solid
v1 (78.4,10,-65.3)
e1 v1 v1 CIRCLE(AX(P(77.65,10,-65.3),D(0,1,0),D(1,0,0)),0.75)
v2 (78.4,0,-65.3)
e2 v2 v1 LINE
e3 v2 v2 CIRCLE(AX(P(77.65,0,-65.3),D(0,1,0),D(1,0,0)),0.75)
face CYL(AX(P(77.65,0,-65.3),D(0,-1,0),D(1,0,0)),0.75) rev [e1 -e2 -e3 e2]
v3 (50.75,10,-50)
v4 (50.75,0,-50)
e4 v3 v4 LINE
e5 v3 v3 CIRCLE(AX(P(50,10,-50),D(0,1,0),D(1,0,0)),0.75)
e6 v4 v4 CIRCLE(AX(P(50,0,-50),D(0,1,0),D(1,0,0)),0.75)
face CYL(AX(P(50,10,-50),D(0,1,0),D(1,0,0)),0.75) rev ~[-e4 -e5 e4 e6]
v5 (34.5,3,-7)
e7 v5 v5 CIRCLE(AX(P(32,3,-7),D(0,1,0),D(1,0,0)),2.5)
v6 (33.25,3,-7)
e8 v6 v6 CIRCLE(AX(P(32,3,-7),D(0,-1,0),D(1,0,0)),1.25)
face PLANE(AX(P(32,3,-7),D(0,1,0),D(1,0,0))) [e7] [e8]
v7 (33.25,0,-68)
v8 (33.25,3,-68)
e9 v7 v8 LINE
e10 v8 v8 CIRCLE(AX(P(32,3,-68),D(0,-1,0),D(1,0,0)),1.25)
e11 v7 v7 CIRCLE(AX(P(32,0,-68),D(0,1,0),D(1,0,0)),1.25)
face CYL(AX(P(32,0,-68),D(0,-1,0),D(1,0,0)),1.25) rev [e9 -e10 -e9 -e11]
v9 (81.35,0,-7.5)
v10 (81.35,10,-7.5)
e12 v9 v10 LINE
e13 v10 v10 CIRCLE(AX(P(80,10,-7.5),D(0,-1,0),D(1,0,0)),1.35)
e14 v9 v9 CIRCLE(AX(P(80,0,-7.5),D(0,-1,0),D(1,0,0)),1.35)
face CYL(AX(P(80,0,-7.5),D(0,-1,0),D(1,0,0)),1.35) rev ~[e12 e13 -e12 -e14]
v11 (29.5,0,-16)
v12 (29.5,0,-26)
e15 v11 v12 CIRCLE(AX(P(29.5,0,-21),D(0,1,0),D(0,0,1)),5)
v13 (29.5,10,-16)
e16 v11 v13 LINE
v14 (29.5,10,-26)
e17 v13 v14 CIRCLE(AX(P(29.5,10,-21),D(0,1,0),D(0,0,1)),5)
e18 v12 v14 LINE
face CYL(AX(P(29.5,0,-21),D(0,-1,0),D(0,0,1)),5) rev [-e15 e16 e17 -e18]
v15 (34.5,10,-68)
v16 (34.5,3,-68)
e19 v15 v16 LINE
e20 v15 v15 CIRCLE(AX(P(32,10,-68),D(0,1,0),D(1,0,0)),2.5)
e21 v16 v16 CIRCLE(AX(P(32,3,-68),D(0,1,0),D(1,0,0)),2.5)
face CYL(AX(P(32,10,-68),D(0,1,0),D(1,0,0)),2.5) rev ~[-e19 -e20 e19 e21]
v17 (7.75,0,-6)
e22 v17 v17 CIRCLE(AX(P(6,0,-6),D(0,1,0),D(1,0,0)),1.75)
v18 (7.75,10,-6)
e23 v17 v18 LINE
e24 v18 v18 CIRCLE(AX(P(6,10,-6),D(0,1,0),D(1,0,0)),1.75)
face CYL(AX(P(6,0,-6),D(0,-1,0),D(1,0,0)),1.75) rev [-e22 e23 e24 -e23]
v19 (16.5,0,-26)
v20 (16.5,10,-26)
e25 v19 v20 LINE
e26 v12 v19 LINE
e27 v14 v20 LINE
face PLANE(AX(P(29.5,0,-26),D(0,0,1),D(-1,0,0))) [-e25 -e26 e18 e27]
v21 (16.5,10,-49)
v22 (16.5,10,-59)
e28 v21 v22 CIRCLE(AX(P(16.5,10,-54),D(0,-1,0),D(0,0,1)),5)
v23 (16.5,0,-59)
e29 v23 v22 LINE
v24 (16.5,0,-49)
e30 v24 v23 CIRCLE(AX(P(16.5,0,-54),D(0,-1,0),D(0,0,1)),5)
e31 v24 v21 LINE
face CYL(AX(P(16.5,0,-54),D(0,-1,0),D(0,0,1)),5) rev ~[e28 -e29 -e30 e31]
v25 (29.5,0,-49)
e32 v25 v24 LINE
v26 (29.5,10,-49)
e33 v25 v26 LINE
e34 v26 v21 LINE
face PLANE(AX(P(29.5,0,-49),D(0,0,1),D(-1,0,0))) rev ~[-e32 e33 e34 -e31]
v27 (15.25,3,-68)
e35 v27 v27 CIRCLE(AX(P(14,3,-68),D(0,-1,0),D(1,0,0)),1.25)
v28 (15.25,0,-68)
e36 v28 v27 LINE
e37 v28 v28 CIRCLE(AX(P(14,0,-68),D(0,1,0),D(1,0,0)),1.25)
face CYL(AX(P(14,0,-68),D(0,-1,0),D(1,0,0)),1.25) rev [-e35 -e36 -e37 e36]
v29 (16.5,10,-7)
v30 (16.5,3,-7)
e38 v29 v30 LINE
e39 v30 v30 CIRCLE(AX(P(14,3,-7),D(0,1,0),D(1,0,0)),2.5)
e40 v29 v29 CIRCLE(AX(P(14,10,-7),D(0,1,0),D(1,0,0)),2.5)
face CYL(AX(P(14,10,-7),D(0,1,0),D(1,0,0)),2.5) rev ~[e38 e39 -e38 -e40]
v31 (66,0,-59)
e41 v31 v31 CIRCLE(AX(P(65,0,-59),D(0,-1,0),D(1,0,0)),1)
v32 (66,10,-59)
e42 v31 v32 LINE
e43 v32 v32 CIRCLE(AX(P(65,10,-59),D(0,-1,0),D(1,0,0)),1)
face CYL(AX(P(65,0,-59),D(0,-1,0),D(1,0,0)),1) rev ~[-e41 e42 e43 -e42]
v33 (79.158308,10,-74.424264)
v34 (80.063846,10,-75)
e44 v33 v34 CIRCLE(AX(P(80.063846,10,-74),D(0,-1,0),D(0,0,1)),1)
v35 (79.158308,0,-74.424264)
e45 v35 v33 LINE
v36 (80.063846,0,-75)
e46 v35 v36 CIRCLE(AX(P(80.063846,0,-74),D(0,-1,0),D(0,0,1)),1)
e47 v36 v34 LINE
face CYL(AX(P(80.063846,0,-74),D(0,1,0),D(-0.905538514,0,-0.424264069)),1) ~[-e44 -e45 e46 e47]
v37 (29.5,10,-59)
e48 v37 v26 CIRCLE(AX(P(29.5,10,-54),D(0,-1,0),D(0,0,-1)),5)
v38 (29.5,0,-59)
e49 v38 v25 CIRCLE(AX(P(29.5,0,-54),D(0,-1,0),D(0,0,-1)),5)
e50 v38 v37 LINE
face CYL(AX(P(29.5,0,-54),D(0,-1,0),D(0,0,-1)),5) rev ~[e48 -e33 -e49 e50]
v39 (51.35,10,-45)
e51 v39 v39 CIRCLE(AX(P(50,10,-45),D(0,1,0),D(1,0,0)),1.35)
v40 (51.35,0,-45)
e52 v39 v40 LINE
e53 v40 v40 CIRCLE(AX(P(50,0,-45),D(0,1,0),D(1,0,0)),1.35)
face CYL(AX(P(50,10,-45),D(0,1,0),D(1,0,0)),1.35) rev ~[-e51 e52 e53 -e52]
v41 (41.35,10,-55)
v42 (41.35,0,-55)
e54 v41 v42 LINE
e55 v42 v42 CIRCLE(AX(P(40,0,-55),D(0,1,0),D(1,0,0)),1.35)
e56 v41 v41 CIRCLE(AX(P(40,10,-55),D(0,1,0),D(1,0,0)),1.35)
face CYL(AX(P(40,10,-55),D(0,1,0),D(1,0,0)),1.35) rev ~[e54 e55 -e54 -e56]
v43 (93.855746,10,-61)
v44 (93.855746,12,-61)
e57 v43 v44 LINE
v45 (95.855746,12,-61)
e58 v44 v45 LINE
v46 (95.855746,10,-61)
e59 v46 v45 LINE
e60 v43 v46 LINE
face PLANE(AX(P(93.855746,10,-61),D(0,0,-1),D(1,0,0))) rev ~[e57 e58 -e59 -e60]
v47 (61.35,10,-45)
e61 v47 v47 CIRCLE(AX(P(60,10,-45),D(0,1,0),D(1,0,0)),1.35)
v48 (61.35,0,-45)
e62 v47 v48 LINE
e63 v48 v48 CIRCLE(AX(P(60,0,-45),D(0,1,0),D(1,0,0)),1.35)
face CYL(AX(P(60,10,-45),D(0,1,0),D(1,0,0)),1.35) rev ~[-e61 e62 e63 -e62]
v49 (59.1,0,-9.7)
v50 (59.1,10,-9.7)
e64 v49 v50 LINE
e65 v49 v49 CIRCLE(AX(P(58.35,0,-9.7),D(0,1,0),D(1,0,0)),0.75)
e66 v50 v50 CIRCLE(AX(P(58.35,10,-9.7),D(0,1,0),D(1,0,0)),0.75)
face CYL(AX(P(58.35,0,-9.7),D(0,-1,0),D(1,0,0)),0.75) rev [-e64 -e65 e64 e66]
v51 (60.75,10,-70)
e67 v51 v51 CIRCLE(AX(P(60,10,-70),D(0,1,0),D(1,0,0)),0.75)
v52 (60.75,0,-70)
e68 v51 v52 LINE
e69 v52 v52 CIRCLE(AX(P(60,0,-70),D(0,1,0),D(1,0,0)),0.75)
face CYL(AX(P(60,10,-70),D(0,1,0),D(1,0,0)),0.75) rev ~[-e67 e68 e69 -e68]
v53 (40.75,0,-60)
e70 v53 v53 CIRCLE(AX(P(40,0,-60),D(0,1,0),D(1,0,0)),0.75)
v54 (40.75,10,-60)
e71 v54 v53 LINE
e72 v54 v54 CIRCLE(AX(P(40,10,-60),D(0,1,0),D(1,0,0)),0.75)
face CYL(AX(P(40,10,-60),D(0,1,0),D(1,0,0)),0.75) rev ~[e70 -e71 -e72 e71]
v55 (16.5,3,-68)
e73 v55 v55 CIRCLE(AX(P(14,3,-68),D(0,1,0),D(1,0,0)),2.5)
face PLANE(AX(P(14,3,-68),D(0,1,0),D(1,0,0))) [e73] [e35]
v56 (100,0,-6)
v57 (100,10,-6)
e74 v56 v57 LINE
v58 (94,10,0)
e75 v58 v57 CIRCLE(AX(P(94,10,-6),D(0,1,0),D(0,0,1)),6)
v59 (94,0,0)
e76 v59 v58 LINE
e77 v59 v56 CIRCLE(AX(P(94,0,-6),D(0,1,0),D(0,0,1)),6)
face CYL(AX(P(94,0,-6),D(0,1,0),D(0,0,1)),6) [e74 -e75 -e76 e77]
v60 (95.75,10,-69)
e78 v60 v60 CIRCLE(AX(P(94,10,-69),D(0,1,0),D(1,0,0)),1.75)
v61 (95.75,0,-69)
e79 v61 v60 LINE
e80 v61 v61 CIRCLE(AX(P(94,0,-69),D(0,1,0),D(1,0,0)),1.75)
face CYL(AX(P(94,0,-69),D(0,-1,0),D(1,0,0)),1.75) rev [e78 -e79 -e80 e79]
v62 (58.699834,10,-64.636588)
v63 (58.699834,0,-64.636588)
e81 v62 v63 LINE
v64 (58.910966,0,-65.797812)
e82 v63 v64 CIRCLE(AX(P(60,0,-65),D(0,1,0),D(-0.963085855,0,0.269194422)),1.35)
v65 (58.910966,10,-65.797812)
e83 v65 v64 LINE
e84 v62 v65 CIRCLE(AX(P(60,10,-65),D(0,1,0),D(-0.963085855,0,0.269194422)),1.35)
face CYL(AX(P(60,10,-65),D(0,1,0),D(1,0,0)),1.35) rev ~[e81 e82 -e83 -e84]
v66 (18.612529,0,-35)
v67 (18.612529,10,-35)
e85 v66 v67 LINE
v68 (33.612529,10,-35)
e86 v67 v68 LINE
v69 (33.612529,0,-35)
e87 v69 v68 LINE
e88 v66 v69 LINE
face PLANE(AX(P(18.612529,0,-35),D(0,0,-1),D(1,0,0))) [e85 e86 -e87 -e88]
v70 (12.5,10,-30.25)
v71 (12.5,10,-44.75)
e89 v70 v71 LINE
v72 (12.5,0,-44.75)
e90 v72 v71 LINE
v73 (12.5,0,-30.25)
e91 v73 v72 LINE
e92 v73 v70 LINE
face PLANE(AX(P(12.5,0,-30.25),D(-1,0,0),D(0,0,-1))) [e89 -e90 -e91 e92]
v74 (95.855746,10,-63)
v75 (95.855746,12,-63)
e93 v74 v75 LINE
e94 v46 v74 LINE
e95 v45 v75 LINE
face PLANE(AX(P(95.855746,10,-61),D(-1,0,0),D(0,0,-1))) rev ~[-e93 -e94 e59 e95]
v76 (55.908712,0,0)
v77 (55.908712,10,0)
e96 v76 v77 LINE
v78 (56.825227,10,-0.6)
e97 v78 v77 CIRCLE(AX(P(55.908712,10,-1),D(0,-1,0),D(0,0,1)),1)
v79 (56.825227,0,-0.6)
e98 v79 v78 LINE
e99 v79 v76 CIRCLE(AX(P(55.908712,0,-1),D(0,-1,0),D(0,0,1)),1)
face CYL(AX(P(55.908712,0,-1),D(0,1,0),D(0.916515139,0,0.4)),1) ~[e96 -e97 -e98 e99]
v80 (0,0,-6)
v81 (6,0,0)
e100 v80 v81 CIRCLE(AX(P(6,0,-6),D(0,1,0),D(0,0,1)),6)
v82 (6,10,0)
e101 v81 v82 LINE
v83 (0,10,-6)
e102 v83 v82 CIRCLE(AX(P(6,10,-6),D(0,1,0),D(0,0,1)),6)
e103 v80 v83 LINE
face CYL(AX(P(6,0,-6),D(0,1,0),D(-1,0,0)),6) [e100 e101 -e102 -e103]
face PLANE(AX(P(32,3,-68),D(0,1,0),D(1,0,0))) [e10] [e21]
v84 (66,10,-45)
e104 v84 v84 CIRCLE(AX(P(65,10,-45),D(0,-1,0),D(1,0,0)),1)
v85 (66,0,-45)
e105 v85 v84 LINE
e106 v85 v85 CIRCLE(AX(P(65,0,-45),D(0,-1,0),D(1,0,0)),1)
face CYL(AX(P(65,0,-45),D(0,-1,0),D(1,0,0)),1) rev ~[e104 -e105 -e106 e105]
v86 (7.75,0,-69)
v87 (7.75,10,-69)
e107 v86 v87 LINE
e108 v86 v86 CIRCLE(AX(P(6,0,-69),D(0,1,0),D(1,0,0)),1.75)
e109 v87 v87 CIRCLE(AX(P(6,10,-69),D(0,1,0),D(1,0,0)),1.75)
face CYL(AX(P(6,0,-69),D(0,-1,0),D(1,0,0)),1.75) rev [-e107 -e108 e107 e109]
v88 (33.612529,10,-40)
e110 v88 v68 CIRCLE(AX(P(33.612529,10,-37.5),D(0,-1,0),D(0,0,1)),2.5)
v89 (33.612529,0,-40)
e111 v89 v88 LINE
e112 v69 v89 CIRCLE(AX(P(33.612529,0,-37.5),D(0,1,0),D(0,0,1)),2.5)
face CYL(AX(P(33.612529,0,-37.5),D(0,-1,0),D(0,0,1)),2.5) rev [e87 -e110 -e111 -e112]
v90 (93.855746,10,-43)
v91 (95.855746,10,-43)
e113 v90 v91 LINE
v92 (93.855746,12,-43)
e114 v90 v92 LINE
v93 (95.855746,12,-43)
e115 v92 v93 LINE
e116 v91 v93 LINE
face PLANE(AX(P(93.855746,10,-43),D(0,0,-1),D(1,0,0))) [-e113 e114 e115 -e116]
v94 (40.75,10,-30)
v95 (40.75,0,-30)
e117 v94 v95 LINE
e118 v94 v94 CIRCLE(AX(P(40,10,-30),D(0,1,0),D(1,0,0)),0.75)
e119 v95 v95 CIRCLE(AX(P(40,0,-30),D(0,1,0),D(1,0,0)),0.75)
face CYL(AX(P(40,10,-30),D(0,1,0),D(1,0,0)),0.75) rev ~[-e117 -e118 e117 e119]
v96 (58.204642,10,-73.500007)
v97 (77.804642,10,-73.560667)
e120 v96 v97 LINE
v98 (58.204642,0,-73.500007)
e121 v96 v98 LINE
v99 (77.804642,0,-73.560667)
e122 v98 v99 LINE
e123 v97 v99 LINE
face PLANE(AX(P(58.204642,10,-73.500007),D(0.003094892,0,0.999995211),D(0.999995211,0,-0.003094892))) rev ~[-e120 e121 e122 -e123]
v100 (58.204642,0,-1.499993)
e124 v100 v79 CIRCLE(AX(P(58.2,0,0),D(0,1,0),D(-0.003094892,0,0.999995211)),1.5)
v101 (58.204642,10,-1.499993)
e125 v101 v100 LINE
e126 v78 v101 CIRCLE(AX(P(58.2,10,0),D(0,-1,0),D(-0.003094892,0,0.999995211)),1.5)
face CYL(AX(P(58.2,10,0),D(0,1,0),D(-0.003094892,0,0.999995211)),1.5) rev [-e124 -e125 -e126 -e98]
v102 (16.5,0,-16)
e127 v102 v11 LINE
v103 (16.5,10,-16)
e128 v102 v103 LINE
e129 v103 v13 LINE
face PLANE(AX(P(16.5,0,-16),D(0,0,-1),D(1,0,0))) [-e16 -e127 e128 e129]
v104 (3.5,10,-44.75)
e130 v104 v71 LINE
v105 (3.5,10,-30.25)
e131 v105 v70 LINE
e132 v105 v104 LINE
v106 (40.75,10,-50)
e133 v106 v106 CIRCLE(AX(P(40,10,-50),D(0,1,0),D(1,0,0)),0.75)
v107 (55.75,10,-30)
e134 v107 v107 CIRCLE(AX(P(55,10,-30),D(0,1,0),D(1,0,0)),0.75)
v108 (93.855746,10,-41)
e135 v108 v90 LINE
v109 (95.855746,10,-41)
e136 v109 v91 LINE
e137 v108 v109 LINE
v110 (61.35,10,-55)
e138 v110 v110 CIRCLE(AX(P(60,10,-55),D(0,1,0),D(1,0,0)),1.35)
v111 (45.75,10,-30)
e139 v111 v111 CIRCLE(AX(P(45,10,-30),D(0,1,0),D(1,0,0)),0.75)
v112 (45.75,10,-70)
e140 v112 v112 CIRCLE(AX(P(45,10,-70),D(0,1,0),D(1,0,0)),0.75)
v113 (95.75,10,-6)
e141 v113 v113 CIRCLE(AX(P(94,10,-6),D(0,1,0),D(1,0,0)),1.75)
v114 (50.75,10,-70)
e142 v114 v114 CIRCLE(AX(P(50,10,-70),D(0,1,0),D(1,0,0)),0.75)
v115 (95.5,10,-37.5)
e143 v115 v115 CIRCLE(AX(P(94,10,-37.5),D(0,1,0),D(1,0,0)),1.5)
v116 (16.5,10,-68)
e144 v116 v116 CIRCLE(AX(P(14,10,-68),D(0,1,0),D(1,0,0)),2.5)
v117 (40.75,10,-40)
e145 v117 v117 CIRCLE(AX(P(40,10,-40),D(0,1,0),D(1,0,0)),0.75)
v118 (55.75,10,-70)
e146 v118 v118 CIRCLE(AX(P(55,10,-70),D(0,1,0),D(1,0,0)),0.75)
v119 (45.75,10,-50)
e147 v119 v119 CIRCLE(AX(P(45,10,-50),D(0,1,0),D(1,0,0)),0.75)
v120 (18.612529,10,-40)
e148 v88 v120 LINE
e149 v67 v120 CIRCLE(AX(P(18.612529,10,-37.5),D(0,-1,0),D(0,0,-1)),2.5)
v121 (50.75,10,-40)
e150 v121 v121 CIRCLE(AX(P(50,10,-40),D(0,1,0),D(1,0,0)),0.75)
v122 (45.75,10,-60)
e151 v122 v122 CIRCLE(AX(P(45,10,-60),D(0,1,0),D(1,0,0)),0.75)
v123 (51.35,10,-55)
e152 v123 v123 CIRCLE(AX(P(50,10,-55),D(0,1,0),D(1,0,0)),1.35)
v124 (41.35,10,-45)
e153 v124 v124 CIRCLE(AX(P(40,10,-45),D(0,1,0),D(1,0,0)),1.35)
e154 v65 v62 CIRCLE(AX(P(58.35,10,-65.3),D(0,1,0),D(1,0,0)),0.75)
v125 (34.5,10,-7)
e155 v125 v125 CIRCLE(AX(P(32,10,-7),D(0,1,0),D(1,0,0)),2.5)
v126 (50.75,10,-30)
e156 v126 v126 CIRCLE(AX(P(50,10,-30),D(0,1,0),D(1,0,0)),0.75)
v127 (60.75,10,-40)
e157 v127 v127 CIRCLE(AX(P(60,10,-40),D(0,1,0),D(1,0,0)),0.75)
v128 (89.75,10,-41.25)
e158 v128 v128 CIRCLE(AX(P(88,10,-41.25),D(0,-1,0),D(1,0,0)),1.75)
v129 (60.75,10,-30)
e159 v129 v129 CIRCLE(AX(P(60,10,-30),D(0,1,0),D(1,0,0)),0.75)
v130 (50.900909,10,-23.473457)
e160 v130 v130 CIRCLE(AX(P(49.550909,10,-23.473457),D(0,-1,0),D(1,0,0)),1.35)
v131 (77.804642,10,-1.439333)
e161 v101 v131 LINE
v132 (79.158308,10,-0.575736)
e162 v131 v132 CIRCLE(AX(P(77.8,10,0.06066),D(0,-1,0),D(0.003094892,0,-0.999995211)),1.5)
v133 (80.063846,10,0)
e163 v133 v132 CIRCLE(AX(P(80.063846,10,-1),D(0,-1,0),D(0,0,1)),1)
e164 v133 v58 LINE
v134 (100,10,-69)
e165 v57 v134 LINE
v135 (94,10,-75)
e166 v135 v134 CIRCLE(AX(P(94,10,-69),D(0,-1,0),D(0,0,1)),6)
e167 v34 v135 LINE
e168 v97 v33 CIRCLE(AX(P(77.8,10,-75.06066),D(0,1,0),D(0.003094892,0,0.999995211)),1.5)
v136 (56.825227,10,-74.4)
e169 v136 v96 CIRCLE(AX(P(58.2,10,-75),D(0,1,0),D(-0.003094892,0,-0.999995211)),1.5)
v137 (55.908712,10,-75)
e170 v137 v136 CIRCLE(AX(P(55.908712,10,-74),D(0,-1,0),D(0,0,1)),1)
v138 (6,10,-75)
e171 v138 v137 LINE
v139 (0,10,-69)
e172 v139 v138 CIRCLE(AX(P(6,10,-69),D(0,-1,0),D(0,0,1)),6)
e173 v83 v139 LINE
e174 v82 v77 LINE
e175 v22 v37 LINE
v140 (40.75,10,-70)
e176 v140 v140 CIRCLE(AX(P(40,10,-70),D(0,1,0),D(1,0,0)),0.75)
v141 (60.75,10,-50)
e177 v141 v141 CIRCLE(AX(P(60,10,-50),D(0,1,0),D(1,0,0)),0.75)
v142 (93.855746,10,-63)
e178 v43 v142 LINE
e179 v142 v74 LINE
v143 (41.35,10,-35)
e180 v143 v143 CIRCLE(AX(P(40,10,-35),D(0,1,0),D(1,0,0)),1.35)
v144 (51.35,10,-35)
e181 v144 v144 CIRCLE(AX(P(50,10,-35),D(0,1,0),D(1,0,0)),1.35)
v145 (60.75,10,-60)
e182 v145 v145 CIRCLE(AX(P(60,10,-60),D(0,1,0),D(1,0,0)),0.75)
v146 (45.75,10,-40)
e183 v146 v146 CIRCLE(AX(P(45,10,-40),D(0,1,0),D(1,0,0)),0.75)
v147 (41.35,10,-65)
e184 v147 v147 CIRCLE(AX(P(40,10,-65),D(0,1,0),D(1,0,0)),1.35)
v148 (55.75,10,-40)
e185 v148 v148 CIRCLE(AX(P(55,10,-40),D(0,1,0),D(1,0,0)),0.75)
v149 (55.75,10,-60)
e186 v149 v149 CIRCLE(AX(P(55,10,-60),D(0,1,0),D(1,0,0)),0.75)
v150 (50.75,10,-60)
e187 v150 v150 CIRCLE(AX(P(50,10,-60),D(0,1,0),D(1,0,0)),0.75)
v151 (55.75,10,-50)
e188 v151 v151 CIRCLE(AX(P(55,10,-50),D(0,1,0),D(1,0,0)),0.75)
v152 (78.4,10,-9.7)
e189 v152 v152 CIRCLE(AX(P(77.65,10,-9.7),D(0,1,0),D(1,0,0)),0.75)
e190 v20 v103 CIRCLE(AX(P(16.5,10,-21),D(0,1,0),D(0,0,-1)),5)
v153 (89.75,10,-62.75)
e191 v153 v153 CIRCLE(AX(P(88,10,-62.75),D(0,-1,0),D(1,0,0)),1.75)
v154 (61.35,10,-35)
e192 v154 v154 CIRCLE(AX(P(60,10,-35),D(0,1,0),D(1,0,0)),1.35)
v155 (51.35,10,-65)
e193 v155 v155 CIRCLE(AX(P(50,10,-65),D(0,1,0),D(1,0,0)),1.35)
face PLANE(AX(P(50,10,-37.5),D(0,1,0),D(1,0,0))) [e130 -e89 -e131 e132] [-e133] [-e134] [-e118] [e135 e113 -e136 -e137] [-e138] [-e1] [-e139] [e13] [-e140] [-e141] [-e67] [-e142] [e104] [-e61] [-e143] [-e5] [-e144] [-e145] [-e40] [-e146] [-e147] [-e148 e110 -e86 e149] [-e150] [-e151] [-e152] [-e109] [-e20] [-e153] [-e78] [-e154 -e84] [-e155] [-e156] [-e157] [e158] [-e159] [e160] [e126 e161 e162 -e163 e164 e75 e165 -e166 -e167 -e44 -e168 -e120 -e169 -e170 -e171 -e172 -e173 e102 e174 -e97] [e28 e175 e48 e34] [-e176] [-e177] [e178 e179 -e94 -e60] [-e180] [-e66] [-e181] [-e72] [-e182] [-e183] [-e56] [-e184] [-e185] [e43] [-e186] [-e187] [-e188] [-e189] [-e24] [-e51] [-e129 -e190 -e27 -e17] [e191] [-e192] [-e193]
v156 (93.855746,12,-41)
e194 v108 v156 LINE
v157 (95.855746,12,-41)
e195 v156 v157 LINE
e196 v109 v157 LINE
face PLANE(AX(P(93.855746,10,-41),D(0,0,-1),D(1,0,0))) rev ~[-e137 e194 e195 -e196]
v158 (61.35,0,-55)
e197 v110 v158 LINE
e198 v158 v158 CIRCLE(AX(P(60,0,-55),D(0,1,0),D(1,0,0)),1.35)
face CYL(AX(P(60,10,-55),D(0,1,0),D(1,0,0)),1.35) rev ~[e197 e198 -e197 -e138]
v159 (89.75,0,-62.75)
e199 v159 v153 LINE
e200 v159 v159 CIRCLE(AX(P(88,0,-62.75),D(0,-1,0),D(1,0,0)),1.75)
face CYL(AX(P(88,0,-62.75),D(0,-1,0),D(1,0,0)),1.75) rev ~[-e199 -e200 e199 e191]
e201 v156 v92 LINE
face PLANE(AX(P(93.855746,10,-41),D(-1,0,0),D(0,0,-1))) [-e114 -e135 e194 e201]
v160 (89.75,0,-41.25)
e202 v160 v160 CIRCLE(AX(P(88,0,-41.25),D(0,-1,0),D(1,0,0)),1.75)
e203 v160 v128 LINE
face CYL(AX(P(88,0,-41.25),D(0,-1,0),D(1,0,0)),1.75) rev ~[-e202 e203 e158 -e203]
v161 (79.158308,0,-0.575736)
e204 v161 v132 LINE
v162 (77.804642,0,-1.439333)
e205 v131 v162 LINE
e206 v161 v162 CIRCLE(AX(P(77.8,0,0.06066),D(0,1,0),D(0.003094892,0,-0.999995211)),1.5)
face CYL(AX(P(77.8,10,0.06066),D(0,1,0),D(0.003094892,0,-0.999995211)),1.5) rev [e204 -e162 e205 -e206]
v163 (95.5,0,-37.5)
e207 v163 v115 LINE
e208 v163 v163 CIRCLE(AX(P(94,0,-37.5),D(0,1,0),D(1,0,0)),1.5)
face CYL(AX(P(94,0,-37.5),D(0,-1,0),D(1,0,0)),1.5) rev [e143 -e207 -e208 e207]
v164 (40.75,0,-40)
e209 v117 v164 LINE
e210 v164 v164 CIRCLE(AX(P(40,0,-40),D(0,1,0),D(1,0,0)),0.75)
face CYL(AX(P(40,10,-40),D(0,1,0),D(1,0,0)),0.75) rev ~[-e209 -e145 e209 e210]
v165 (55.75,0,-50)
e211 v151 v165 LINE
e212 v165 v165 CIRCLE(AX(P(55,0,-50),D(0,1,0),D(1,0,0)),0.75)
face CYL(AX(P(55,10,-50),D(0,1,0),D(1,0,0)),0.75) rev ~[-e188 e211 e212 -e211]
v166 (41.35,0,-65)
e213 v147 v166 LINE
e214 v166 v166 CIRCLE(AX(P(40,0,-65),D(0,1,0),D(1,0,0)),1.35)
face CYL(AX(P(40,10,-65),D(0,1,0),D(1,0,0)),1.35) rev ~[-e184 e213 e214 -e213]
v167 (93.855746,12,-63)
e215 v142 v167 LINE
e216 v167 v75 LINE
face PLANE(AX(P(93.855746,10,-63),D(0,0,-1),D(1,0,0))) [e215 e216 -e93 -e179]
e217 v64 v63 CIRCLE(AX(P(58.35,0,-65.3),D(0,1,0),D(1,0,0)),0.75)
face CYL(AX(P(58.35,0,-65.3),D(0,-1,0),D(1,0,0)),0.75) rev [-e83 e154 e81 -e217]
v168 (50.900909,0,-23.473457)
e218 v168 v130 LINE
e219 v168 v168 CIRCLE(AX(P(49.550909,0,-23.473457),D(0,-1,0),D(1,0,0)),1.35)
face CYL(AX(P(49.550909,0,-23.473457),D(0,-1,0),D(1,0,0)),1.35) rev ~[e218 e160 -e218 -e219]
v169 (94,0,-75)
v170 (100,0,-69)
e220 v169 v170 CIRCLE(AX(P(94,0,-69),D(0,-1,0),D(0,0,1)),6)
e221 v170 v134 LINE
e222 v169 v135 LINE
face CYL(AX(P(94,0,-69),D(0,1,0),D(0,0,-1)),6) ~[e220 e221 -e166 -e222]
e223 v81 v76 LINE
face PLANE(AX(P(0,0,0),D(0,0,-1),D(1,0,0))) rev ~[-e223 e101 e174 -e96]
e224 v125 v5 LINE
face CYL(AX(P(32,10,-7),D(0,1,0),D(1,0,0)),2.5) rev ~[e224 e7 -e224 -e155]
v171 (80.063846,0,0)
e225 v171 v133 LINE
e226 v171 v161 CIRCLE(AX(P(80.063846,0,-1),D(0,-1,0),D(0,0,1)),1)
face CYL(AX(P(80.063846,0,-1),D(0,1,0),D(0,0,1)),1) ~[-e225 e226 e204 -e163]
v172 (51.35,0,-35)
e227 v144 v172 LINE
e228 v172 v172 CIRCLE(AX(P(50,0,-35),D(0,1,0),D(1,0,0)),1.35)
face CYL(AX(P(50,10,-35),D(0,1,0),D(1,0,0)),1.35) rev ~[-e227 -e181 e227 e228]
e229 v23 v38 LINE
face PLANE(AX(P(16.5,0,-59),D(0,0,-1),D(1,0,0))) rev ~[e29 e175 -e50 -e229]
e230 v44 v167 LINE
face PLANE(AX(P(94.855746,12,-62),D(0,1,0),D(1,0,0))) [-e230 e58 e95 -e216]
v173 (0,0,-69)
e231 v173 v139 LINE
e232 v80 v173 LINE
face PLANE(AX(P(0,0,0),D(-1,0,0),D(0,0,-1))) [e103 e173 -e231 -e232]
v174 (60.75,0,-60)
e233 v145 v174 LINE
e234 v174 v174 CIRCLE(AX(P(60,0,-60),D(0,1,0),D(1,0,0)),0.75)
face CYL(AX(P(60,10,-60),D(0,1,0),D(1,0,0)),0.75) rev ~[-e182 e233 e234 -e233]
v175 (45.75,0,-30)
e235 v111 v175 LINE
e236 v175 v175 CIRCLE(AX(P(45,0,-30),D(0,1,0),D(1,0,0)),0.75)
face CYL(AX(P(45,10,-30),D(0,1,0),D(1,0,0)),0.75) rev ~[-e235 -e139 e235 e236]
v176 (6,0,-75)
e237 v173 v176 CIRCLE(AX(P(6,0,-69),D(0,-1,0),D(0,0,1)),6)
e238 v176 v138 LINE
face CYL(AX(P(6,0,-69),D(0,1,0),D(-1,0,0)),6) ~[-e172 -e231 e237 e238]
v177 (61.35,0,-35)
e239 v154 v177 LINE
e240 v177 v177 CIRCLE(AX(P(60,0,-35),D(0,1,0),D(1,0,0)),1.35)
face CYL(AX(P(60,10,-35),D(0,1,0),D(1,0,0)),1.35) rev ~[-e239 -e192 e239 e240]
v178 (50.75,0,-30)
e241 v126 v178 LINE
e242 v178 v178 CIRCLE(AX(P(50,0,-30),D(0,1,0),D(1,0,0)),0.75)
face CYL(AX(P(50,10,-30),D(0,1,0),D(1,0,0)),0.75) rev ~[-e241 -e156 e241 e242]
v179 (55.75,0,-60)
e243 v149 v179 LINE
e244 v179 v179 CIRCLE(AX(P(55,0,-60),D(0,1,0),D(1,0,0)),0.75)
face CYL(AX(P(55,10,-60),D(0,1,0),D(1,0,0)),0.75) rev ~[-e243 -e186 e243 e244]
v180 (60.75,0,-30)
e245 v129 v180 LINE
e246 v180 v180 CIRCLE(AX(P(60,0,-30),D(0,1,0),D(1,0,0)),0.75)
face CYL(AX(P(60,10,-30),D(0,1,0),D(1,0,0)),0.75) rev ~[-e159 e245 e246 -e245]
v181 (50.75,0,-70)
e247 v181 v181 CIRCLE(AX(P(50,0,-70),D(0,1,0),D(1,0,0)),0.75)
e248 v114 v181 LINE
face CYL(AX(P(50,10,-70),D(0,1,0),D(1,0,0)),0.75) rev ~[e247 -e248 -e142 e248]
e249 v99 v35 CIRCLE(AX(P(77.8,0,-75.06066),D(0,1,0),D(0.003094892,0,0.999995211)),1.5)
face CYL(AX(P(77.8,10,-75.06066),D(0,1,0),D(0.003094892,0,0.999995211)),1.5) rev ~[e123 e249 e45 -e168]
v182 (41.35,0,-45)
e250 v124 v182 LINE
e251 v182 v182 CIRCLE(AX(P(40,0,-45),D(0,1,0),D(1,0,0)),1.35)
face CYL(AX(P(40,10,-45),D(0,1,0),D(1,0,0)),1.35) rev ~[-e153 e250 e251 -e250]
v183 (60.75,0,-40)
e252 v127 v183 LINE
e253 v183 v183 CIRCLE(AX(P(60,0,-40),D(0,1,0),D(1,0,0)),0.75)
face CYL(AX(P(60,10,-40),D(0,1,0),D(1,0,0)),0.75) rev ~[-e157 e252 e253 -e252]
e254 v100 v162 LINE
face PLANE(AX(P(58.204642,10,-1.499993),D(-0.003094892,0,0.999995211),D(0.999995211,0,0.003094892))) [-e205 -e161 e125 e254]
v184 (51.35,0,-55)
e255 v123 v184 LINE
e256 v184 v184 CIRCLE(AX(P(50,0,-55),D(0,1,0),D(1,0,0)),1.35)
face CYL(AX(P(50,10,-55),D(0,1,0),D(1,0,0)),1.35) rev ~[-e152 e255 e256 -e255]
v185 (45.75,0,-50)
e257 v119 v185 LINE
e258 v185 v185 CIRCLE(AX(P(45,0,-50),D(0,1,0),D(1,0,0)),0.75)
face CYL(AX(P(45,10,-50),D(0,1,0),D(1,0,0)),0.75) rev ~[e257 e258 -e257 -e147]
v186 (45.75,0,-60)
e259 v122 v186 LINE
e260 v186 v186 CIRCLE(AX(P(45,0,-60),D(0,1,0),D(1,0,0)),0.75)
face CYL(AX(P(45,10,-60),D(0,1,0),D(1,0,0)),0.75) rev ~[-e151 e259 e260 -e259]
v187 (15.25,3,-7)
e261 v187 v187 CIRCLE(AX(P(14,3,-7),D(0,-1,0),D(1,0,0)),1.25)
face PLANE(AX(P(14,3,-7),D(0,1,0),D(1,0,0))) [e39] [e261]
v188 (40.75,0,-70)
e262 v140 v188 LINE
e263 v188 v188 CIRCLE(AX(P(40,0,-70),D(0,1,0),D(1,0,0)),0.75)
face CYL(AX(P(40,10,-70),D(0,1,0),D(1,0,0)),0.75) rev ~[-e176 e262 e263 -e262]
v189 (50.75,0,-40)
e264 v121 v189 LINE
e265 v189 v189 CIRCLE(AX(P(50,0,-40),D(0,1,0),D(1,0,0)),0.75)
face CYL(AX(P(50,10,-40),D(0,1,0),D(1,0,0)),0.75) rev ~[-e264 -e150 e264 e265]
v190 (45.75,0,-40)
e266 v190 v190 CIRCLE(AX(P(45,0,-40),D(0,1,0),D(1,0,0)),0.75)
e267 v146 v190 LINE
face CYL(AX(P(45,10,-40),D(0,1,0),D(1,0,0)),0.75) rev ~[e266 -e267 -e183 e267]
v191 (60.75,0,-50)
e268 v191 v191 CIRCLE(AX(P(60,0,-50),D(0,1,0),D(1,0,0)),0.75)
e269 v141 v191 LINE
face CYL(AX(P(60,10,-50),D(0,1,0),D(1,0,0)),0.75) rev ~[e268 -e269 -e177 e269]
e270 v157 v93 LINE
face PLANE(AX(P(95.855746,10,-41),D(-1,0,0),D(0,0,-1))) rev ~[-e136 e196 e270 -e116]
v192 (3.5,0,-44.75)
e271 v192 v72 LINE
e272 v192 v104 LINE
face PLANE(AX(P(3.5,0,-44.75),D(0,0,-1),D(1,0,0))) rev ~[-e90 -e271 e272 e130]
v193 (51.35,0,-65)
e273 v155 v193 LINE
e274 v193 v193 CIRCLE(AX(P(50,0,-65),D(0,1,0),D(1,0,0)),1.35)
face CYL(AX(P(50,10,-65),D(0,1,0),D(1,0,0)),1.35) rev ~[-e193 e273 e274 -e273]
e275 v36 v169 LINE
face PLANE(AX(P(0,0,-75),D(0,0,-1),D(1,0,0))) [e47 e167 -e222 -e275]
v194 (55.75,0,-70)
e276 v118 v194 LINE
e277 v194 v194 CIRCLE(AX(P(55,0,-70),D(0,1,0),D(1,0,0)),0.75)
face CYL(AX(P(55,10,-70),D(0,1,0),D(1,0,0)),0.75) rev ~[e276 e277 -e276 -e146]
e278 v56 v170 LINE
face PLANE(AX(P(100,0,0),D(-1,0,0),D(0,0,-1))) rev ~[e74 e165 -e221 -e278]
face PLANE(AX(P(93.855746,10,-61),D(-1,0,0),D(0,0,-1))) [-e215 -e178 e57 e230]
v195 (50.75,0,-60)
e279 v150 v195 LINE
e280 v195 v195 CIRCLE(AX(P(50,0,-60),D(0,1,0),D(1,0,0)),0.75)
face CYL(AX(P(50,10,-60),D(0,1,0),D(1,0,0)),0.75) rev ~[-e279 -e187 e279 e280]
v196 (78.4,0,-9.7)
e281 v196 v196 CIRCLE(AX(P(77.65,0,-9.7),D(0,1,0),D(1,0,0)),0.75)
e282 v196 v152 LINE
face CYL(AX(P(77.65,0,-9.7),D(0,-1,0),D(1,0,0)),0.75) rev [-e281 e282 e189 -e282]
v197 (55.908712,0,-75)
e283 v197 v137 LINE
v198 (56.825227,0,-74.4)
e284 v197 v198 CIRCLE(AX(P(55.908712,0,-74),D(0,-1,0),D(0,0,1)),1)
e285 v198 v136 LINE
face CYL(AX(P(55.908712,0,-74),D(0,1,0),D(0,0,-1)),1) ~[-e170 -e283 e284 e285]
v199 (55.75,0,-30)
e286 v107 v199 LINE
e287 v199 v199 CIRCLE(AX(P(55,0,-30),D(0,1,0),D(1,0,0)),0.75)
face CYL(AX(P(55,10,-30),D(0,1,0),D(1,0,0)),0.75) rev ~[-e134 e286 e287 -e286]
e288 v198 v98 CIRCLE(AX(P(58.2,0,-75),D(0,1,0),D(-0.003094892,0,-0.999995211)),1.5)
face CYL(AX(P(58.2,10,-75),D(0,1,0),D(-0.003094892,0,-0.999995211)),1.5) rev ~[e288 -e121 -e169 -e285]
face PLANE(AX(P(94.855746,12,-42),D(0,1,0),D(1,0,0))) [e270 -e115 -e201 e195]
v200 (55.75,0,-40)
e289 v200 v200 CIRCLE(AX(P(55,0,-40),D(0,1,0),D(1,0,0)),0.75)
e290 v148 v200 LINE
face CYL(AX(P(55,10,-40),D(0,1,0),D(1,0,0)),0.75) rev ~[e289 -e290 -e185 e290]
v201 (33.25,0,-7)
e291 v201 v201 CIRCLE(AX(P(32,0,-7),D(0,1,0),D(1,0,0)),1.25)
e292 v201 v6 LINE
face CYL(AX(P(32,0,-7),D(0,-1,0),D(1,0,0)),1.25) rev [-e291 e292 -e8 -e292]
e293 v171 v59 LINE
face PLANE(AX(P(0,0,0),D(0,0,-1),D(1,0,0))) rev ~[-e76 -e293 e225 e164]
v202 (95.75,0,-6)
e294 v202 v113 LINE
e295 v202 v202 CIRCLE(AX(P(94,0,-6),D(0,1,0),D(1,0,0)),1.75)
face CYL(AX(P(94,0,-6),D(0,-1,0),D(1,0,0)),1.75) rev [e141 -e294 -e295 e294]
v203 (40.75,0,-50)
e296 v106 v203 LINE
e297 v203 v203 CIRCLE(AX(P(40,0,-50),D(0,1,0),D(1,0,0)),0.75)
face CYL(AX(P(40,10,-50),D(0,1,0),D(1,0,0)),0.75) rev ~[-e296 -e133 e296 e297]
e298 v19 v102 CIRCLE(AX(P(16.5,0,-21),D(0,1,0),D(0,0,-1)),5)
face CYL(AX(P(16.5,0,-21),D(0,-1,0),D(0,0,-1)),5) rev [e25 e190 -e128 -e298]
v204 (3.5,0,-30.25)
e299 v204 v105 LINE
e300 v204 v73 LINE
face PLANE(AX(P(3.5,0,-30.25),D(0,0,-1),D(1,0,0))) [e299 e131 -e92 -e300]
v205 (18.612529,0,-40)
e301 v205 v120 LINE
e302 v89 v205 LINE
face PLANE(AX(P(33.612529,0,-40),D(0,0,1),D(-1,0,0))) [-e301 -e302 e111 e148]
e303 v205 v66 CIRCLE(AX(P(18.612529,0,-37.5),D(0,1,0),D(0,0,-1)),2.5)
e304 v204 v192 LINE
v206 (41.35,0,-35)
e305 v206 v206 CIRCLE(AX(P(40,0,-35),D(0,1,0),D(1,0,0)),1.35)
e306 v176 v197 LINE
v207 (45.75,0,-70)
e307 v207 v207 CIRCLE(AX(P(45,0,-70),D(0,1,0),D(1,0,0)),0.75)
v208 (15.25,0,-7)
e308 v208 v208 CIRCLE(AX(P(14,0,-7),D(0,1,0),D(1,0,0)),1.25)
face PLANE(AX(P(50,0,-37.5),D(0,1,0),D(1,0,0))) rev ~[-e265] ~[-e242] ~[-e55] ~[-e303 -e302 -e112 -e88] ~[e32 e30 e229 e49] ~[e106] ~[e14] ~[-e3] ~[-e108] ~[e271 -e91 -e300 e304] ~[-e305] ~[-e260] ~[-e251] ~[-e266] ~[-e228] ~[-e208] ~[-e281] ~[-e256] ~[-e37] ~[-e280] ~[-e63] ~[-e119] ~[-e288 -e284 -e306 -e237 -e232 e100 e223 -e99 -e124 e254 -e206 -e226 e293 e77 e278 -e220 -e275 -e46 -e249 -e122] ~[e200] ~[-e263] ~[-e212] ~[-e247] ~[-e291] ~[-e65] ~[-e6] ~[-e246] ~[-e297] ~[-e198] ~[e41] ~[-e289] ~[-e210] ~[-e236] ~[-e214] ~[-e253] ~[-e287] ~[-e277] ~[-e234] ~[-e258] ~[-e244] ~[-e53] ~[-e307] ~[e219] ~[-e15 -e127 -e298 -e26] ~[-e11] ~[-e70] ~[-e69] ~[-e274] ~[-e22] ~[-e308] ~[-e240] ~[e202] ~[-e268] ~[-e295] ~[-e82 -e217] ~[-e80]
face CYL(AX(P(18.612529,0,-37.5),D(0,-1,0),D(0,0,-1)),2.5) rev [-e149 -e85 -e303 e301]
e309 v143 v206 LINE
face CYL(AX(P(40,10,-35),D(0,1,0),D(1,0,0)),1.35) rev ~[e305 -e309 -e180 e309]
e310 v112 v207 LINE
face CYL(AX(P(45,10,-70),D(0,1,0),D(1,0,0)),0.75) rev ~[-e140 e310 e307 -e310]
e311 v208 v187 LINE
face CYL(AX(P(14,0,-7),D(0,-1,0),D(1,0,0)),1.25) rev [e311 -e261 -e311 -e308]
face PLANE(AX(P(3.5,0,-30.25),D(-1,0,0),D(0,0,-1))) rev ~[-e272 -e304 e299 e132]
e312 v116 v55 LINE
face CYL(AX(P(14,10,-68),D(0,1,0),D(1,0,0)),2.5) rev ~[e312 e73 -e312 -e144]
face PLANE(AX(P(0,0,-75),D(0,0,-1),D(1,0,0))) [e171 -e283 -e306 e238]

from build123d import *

# Parameters (mm, degrees)
SKETCH_1_W          = 100
SKETCH_1_H          = 75
SKETCH_1_R          = 1.75
SKETCH_1_R_2        = 1.25
SKETCH_1_R_3        = 0.75
SKETCH_1_R_4        = 1.5
SKETCH_1_W_2        = 9
SKETCH_1_H_2        = 14.5
EXTRUDE_1_DEPTH     = 10
FILLET_5_R          = 6
CUT_EXTRUDE_1_REACH = 12
SKETCH_2_R          = 1.35
SKETCH_2_R_2        = 1.75
SKETCH_2_R_3        = 1
SKETCH_3_R          = 2.5
CUT_EXTRUDE_2_DEPTH = 7
SKETCH_4_W          = 2
SKETCH_4_H          = 2
EXTRUDE_2_DEPTH     = 2
CUT_EXTRUDE_3_DEPTH = 36.8
FILLET_6_R          = 1
SKETCH_6_R          = 1.35
SKETCH_6_R_2        = 0.75
CUT_EXTRUDE_4_DEPTH = 36.8


with BuildPart() as part:
    # Эскиз1 → Бобышка-Вытянуть1 (new body)
    with BuildSketch(Plane(origin=(0, 0, 0), x_dir=(1, 0, 0), z_dir=(0, 1, 0))):
        with Locations((50, 37.5)):
            Rectangle(SKETCH_1_W, SKETCH_1_H)
        with Locations((6, 69)):
            Circle(SKETCH_1_R, mode=Mode.SUBTRACT)
        with Locations((94, 69)):
            Circle(SKETCH_1_R, mode=Mode.SUBTRACT)
        with Locations((94, 6)):
            Circle(SKETCH_1_R, mode=Mode.SUBTRACT)
        with Locations((6, 6)):
            Circle(SKETCH_1_R, mode=Mode.SUBTRACT)
        with Locations((14, 68)):
            Circle(SKETCH_1_R_2, mode=Mode.SUBTRACT)
        with Locations((32, 68)):
            Circle(SKETCH_1_R_2, mode=Mode.SUBTRACT)
        with Locations((32, 7)):
            Circle(SKETCH_1_R_2, mode=Mode.SUBTRACT)
        with Locations((14, 7)):
            Circle(SKETCH_1_R_2, mode=Mode.SUBTRACT)
        with Locations((58.35, 65.3)):
            Circle(SKETCH_1_R_3, mode=Mode.SUBTRACT)
        with Locations((77.65, 65.3)):
            Circle(SKETCH_1_R_3, mode=Mode.SUBTRACT)
        with Locations((77.65, 9.7)):
            Circle(SKETCH_1_R_3, mode=Mode.SUBTRACT)
        with Locations((58.35, 9.7)):
            Circle(SKETCH_1_R_3, mode=Mode.SUBTRACT)
        with Locations((94, 37.5)):
            Circle(SKETCH_1_R_4, mode=Mode.SUBTRACT)
        with BuildLine():
            Line((16.5, 59), (29.5, 59))
            ThreePointArc((29.5, 59), (34.5, 54), (29.5, 49))
            Line((29.5, 49), (16.5, 49))
            ThreePointArc((16.5, 49), (11.5, 54), (16.5, 59))
        make_face(mode=Mode.SUBTRACT)
        with BuildLine():
            Line((16.5, 16), (29.5, 16))
            ThreePointArc((29.5, 16), (34.5, 21), (29.5, 26))
            Line((29.5, 26), (16.5, 26))
            ThreePointArc((16.5, 26), (11.5, 21), (16.5, 16))
        make_face(mode=Mode.SUBTRACT)
        with Locations((8, 37.5)):
            Rectangle(SKETCH_1_W_2, SKETCH_1_H_2, mode=Mode.SUBTRACT)
    extrude(amount=EXTRUDE_1_DEPTH)

    # Скругление5
    fillet_5_edges = [part.edges().sort_by_distance(p)[0] for p in [
        (0, 5, -75),
        (100, 5, -75),
        (100, 5, 0),
        (0, 5, 0),
    ]]
    fillet(fillet_5_edges, radius=FILLET_5_R)

    # Эскиз2 → Вырез-Вытянуть1 (cut, up to next)
    with BuildSketch(Plane.XZ, mode=Mode.PRIVATE) as cut_extrude_1_sk1:
        with Locations((80, -7.5)):
            Circle(SKETCH_2_R)
    cut_extrude_1_tool1 = extrude(cut_extrude_1_sk1.sketch, amount=-CUT_EXTRUDE_1_REACH, mode=Mode.PRIVATE) & part.part
    add(cut_extrude_1_tool1.solids().sort_by_distance((80, 0, -7.5))[0], mode=Mode.SUBTRACT)
    # Эскиз2 → Вырез-Вытянуть1 (cut, up to next)
    with BuildSketch(Plane.XZ, mode=Mode.PRIVATE) as cut_extrude_1_sk2:
        with Locations((88, -62.75)):
            Circle(SKETCH_2_R_2)
    cut_extrude_1_tool2 = extrude(cut_extrude_1_sk2.sketch, amount=-CUT_EXTRUDE_1_REACH, mode=Mode.PRIVATE) & part.part
    add(cut_extrude_1_tool2.solids().sort_by_distance((88, 0, -62.75))[0], mode=Mode.SUBTRACT)
    # Эскиз2 → Вырез-Вытянуть1 (cut, up to next)
    with BuildSketch(Plane.XZ, mode=Mode.PRIVATE) as cut_extrude_1_sk3:
        with Locations((88, -41.25)):
            Circle(SKETCH_2_R_2)
    cut_extrude_1_tool3 = extrude(cut_extrude_1_sk3.sketch, amount=-CUT_EXTRUDE_1_REACH, mode=Mode.PRIVATE) & part.part
    add(cut_extrude_1_tool3.solids().sort_by_distance((88, 0, -41.25))[0], mode=Mode.SUBTRACT)
    # Эскиз2 → Вырез-Вытянуть1 (cut, up to next)
    with BuildSketch(Plane.XZ, mode=Mode.PRIVATE) as cut_extrude_1_sk4:
        with Locations((49.550909155, -23.473456754)):
            Circle(SKETCH_2_R)
    cut_extrude_1_tool4 = extrude(cut_extrude_1_sk4.sketch, amount=-CUT_EXTRUDE_1_REACH, mode=Mode.PRIVATE) & part.part
    add(cut_extrude_1_tool4.solids().sort_by_distance((49.550909, 0, -23.473457))[0], mode=Mode.SUBTRACT)
    # Эскиз2 → Вырез-Вытянуть1 (cut, up to next)
    with BuildSketch(Plane.XZ, mode=Mode.PRIVATE) as cut_extrude_1_sk5:
        with Locations((65, -59)):
            Circle(SKETCH_2_R_3)
    cut_extrude_1_tool5 = extrude(cut_extrude_1_sk5.sketch, amount=-CUT_EXTRUDE_1_REACH, mode=Mode.PRIVATE) & part.part
    add(cut_extrude_1_tool5.solids().sort_by_distance((65, 0, -59))[0], mode=Mode.SUBTRACT)
    # Эскиз2 → Вырез-Вытянуть1 (cut, up to next)
    with BuildSketch(Plane.XZ, mode=Mode.PRIVATE) as cut_extrude_1_sk6:
        with Locations((65, -45)):
            Circle(SKETCH_2_R_3)
    cut_extrude_1_tool6 = extrude(cut_extrude_1_sk6.sketch, amount=-CUT_EXTRUDE_1_REACH, mode=Mode.PRIVATE) & part.part
    add(cut_extrude_1_tool6.solids().sort_by_distance((65, 0, -45))[0], mode=Mode.SUBTRACT)
    # Эскиз2 → Вырез-Вытянуть1 (cut, up to next)
    with BuildSketch(Plane.XZ, mode=Mode.PRIVATE) as cut_extrude_1_sk7:
        with BuildLine():
            Line((18.612528652, -35), (33.612528652, -35))
            ThreePointArc((33.612528652, -35), (36.112528652, -37.5), (33.612528652, -40))
            Line((33.612528652, -40), (18.612528652, -40))
            ThreePointArc((18.612528652, -40), (16.112528652, -37.5), (18.612528652, -35))
        make_face()
    cut_extrude_1_tool7 = extrude(cut_extrude_1_sk7.sketch, amount=-CUT_EXTRUDE_1_REACH, mode=Mode.PRIVATE) & part.part
    add(cut_extrude_1_tool7.solids().sort_by_distance((26.112529, 0, -37.5))[0], mode=Mode.SUBTRACT)

    # Эскиз3 → Вырез-Вытянуть2 (cut)
    with BuildSketch(Plane(origin=(0, 10, 0), x_dir=(1, 0, 0), z_dir=(0, 1, 0))):
        with Locations((14, 68)):
            Circle(SKETCH_3_R)
        with Locations((32, 68)):
            Circle(SKETCH_3_R)
        with Locations((14, 7)):
            Circle(SKETCH_3_R)
        with Locations((32, 7)):
            Circle(SKETCH_3_R)
    extrude(amount=-CUT_EXTRUDE_2_DEPTH, mode=Mode.SUBTRACT)

    # Эскиз4 → Бобышка-Вытянуть2 (add)
    with BuildSketch(Plane(origin=(0, 10, 0), x_dir=(1, 0, 0), z_dir=(0, 1, 0))):
        with Locations((94.855745834, 42)):
            Rectangle(SKETCH_4_W, SKETCH_4_H)
        with Locations((94.855745834, 62)):
            Rectangle(SKETCH_4_W, SKETCH_4_H)
    extrude(amount=EXTRUDE_2_DEPTH)

    # Эскиз5 → Вырез-Вытянуть3 (cut)
    with BuildSketch(Plane(origin=(0, 10, 0), x_dir=(1, 0, 0), z_dir=(0, 1, 0))):
        with BuildLine():
            Line((58.204642338, 1.499992816), (77.804642338, 1.439332644))
            ThreePointArc((77.804642338, 1.439332644), (79.299992816, -0.06530251), (77.795357662, -1.560652988))
            Line((77.795357662, -1.560652988), (58.195357662, -1.499992816))
            ThreePointArc((58.195357662, -1.499992816), (56.700007184, 0.004642338), (58.204642338, 1.499992816))
        make_face()
        with BuildLine():
            Line((58.204642338, 73.500007184), (77.804642338, 73.560667356))
            ThreePointArc((77.804642338, 73.560667356), (79.299992816, 75.06530251), (77.795357662, 76.560652988))
            Line((77.795357662, 76.560652988), (58.195357662, 76.499992816))
            ThreePointArc((58.195357662, 76.499992816), (56.700007184, 74.995357662), (58.204642338, 73.500007184))
        make_face()
    extrude(amount=-CUT_EXTRUDE_3_DEPTH, mode=Mode.SUBTRACT)

    # Скругление6
    fillet_6_edges = [part.edges().sort_by_distance(p)[0] for p in [
        (79.298772946, 5, -75),
        (56.7, 5, -75),
        (79.298772946, 5, 0),
        (56.7, 5, 0),
    ]]
    fillet(fillet_6_edges, radius=FILLET_6_R)

    # Эскиз6 → Вырез-Вытянуть4 (cut)
    with BuildSketch(Plane(origin=(0, 10, 0), x_dir=(1, 0, 0), z_dir=(0, 1, 0))):
        with Locations((40, 65)):
            Circle(SKETCH_6_R)
        with Locations((50, 65)):
            Circle(SKETCH_6_R)
        with Locations((60, 65)):
            Circle(SKETCH_6_R)
        with Locations((50, 55)):
            Circle(SKETCH_6_R)
        with Locations((60, 55)):
            Circle(SKETCH_6_R)
        with Locations((50, 45)):
            Circle(SKETCH_6_R)
        with Locations((60, 45)):
            Circle(SKETCH_6_R)
        with Locations((50, 35)):
            Circle(SKETCH_6_R)
        with Locations((60, 35)):
            Circle(SKETCH_6_R)
        with Locations((40, 55)):
            Circle(SKETCH_6_R)
        with Locations((40, 45)):
            Circle(SKETCH_6_R)
        with Locations((40, 35)):
            Circle(SKETCH_6_R)
        with Locations((40, 70)):
            Circle(SKETCH_6_R_2)
        with Locations((45, 70)):
            Circle(SKETCH_6_R_2)
        with Locations((50, 70)):
            Circle(SKETCH_6_R_2)
        with Locations((55, 70)):
            Circle(SKETCH_6_R_2)
        with Locations((60, 70)):
            Circle(SKETCH_6_R_2)
        with Locations((45, 60)):
            Circle(SKETCH_6_R_2)
        with Locations((50, 60)):
            Circle(SKETCH_6_R_2)
        with Locations((55, 60)):
            Circle(SKETCH_6_R_2)
        with Locations((60, 60)):
            Circle(SKETCH_6_R_2)
        with Locations((45, 50)):
            Circle(SKETCH_6_R_2)
        with Locations((50, 50)):
            Circle(SKETCH_6_R_2)
        with Locations((55, 50)):
            Circle(SKETCH_6_R_2)
        with Locations((60, 50)):
            Circle(SKETCH_6_R_2)
        with Locations((45, 40)):
            Circle(SKETCH_6_R_2)
        with Locations((50, 40)):
            Circle(SKETCH_6_R_2)
        with Locations((55, 40)):
            Circle(SKETCH_6_R_2)
        with Locations((60, 40)):
            Circle(SKETCH_6_R_2)
        with Locations((45, 30)):
            Circle(SKETCH_6_R_2)
        with Locations((50, 30)):
            Circle(SKETCH_6_R_2)
        with Locations((55, 30)):
            Circle(SKETCH_6_R_2)
        with Locations((60, 30)):
            Circle(SKETCH_6_R_2)
        with Locations((40, 60)):
            Circle(SKETCH_6_R_2)
        with Locations((40, 50)):
            Circle(SKETCH_6_R_2)
        with Locations((40, 40)):
            Circle(SKETCH_6_R_2)
        with Locations((40, 30)):
            Circle(SKETCH_6_R_2)
    extrude(amount=-CUT_EXTRUDE_4_DEPTH, mode=Mode.SUBTRACT)


solid = part.part
